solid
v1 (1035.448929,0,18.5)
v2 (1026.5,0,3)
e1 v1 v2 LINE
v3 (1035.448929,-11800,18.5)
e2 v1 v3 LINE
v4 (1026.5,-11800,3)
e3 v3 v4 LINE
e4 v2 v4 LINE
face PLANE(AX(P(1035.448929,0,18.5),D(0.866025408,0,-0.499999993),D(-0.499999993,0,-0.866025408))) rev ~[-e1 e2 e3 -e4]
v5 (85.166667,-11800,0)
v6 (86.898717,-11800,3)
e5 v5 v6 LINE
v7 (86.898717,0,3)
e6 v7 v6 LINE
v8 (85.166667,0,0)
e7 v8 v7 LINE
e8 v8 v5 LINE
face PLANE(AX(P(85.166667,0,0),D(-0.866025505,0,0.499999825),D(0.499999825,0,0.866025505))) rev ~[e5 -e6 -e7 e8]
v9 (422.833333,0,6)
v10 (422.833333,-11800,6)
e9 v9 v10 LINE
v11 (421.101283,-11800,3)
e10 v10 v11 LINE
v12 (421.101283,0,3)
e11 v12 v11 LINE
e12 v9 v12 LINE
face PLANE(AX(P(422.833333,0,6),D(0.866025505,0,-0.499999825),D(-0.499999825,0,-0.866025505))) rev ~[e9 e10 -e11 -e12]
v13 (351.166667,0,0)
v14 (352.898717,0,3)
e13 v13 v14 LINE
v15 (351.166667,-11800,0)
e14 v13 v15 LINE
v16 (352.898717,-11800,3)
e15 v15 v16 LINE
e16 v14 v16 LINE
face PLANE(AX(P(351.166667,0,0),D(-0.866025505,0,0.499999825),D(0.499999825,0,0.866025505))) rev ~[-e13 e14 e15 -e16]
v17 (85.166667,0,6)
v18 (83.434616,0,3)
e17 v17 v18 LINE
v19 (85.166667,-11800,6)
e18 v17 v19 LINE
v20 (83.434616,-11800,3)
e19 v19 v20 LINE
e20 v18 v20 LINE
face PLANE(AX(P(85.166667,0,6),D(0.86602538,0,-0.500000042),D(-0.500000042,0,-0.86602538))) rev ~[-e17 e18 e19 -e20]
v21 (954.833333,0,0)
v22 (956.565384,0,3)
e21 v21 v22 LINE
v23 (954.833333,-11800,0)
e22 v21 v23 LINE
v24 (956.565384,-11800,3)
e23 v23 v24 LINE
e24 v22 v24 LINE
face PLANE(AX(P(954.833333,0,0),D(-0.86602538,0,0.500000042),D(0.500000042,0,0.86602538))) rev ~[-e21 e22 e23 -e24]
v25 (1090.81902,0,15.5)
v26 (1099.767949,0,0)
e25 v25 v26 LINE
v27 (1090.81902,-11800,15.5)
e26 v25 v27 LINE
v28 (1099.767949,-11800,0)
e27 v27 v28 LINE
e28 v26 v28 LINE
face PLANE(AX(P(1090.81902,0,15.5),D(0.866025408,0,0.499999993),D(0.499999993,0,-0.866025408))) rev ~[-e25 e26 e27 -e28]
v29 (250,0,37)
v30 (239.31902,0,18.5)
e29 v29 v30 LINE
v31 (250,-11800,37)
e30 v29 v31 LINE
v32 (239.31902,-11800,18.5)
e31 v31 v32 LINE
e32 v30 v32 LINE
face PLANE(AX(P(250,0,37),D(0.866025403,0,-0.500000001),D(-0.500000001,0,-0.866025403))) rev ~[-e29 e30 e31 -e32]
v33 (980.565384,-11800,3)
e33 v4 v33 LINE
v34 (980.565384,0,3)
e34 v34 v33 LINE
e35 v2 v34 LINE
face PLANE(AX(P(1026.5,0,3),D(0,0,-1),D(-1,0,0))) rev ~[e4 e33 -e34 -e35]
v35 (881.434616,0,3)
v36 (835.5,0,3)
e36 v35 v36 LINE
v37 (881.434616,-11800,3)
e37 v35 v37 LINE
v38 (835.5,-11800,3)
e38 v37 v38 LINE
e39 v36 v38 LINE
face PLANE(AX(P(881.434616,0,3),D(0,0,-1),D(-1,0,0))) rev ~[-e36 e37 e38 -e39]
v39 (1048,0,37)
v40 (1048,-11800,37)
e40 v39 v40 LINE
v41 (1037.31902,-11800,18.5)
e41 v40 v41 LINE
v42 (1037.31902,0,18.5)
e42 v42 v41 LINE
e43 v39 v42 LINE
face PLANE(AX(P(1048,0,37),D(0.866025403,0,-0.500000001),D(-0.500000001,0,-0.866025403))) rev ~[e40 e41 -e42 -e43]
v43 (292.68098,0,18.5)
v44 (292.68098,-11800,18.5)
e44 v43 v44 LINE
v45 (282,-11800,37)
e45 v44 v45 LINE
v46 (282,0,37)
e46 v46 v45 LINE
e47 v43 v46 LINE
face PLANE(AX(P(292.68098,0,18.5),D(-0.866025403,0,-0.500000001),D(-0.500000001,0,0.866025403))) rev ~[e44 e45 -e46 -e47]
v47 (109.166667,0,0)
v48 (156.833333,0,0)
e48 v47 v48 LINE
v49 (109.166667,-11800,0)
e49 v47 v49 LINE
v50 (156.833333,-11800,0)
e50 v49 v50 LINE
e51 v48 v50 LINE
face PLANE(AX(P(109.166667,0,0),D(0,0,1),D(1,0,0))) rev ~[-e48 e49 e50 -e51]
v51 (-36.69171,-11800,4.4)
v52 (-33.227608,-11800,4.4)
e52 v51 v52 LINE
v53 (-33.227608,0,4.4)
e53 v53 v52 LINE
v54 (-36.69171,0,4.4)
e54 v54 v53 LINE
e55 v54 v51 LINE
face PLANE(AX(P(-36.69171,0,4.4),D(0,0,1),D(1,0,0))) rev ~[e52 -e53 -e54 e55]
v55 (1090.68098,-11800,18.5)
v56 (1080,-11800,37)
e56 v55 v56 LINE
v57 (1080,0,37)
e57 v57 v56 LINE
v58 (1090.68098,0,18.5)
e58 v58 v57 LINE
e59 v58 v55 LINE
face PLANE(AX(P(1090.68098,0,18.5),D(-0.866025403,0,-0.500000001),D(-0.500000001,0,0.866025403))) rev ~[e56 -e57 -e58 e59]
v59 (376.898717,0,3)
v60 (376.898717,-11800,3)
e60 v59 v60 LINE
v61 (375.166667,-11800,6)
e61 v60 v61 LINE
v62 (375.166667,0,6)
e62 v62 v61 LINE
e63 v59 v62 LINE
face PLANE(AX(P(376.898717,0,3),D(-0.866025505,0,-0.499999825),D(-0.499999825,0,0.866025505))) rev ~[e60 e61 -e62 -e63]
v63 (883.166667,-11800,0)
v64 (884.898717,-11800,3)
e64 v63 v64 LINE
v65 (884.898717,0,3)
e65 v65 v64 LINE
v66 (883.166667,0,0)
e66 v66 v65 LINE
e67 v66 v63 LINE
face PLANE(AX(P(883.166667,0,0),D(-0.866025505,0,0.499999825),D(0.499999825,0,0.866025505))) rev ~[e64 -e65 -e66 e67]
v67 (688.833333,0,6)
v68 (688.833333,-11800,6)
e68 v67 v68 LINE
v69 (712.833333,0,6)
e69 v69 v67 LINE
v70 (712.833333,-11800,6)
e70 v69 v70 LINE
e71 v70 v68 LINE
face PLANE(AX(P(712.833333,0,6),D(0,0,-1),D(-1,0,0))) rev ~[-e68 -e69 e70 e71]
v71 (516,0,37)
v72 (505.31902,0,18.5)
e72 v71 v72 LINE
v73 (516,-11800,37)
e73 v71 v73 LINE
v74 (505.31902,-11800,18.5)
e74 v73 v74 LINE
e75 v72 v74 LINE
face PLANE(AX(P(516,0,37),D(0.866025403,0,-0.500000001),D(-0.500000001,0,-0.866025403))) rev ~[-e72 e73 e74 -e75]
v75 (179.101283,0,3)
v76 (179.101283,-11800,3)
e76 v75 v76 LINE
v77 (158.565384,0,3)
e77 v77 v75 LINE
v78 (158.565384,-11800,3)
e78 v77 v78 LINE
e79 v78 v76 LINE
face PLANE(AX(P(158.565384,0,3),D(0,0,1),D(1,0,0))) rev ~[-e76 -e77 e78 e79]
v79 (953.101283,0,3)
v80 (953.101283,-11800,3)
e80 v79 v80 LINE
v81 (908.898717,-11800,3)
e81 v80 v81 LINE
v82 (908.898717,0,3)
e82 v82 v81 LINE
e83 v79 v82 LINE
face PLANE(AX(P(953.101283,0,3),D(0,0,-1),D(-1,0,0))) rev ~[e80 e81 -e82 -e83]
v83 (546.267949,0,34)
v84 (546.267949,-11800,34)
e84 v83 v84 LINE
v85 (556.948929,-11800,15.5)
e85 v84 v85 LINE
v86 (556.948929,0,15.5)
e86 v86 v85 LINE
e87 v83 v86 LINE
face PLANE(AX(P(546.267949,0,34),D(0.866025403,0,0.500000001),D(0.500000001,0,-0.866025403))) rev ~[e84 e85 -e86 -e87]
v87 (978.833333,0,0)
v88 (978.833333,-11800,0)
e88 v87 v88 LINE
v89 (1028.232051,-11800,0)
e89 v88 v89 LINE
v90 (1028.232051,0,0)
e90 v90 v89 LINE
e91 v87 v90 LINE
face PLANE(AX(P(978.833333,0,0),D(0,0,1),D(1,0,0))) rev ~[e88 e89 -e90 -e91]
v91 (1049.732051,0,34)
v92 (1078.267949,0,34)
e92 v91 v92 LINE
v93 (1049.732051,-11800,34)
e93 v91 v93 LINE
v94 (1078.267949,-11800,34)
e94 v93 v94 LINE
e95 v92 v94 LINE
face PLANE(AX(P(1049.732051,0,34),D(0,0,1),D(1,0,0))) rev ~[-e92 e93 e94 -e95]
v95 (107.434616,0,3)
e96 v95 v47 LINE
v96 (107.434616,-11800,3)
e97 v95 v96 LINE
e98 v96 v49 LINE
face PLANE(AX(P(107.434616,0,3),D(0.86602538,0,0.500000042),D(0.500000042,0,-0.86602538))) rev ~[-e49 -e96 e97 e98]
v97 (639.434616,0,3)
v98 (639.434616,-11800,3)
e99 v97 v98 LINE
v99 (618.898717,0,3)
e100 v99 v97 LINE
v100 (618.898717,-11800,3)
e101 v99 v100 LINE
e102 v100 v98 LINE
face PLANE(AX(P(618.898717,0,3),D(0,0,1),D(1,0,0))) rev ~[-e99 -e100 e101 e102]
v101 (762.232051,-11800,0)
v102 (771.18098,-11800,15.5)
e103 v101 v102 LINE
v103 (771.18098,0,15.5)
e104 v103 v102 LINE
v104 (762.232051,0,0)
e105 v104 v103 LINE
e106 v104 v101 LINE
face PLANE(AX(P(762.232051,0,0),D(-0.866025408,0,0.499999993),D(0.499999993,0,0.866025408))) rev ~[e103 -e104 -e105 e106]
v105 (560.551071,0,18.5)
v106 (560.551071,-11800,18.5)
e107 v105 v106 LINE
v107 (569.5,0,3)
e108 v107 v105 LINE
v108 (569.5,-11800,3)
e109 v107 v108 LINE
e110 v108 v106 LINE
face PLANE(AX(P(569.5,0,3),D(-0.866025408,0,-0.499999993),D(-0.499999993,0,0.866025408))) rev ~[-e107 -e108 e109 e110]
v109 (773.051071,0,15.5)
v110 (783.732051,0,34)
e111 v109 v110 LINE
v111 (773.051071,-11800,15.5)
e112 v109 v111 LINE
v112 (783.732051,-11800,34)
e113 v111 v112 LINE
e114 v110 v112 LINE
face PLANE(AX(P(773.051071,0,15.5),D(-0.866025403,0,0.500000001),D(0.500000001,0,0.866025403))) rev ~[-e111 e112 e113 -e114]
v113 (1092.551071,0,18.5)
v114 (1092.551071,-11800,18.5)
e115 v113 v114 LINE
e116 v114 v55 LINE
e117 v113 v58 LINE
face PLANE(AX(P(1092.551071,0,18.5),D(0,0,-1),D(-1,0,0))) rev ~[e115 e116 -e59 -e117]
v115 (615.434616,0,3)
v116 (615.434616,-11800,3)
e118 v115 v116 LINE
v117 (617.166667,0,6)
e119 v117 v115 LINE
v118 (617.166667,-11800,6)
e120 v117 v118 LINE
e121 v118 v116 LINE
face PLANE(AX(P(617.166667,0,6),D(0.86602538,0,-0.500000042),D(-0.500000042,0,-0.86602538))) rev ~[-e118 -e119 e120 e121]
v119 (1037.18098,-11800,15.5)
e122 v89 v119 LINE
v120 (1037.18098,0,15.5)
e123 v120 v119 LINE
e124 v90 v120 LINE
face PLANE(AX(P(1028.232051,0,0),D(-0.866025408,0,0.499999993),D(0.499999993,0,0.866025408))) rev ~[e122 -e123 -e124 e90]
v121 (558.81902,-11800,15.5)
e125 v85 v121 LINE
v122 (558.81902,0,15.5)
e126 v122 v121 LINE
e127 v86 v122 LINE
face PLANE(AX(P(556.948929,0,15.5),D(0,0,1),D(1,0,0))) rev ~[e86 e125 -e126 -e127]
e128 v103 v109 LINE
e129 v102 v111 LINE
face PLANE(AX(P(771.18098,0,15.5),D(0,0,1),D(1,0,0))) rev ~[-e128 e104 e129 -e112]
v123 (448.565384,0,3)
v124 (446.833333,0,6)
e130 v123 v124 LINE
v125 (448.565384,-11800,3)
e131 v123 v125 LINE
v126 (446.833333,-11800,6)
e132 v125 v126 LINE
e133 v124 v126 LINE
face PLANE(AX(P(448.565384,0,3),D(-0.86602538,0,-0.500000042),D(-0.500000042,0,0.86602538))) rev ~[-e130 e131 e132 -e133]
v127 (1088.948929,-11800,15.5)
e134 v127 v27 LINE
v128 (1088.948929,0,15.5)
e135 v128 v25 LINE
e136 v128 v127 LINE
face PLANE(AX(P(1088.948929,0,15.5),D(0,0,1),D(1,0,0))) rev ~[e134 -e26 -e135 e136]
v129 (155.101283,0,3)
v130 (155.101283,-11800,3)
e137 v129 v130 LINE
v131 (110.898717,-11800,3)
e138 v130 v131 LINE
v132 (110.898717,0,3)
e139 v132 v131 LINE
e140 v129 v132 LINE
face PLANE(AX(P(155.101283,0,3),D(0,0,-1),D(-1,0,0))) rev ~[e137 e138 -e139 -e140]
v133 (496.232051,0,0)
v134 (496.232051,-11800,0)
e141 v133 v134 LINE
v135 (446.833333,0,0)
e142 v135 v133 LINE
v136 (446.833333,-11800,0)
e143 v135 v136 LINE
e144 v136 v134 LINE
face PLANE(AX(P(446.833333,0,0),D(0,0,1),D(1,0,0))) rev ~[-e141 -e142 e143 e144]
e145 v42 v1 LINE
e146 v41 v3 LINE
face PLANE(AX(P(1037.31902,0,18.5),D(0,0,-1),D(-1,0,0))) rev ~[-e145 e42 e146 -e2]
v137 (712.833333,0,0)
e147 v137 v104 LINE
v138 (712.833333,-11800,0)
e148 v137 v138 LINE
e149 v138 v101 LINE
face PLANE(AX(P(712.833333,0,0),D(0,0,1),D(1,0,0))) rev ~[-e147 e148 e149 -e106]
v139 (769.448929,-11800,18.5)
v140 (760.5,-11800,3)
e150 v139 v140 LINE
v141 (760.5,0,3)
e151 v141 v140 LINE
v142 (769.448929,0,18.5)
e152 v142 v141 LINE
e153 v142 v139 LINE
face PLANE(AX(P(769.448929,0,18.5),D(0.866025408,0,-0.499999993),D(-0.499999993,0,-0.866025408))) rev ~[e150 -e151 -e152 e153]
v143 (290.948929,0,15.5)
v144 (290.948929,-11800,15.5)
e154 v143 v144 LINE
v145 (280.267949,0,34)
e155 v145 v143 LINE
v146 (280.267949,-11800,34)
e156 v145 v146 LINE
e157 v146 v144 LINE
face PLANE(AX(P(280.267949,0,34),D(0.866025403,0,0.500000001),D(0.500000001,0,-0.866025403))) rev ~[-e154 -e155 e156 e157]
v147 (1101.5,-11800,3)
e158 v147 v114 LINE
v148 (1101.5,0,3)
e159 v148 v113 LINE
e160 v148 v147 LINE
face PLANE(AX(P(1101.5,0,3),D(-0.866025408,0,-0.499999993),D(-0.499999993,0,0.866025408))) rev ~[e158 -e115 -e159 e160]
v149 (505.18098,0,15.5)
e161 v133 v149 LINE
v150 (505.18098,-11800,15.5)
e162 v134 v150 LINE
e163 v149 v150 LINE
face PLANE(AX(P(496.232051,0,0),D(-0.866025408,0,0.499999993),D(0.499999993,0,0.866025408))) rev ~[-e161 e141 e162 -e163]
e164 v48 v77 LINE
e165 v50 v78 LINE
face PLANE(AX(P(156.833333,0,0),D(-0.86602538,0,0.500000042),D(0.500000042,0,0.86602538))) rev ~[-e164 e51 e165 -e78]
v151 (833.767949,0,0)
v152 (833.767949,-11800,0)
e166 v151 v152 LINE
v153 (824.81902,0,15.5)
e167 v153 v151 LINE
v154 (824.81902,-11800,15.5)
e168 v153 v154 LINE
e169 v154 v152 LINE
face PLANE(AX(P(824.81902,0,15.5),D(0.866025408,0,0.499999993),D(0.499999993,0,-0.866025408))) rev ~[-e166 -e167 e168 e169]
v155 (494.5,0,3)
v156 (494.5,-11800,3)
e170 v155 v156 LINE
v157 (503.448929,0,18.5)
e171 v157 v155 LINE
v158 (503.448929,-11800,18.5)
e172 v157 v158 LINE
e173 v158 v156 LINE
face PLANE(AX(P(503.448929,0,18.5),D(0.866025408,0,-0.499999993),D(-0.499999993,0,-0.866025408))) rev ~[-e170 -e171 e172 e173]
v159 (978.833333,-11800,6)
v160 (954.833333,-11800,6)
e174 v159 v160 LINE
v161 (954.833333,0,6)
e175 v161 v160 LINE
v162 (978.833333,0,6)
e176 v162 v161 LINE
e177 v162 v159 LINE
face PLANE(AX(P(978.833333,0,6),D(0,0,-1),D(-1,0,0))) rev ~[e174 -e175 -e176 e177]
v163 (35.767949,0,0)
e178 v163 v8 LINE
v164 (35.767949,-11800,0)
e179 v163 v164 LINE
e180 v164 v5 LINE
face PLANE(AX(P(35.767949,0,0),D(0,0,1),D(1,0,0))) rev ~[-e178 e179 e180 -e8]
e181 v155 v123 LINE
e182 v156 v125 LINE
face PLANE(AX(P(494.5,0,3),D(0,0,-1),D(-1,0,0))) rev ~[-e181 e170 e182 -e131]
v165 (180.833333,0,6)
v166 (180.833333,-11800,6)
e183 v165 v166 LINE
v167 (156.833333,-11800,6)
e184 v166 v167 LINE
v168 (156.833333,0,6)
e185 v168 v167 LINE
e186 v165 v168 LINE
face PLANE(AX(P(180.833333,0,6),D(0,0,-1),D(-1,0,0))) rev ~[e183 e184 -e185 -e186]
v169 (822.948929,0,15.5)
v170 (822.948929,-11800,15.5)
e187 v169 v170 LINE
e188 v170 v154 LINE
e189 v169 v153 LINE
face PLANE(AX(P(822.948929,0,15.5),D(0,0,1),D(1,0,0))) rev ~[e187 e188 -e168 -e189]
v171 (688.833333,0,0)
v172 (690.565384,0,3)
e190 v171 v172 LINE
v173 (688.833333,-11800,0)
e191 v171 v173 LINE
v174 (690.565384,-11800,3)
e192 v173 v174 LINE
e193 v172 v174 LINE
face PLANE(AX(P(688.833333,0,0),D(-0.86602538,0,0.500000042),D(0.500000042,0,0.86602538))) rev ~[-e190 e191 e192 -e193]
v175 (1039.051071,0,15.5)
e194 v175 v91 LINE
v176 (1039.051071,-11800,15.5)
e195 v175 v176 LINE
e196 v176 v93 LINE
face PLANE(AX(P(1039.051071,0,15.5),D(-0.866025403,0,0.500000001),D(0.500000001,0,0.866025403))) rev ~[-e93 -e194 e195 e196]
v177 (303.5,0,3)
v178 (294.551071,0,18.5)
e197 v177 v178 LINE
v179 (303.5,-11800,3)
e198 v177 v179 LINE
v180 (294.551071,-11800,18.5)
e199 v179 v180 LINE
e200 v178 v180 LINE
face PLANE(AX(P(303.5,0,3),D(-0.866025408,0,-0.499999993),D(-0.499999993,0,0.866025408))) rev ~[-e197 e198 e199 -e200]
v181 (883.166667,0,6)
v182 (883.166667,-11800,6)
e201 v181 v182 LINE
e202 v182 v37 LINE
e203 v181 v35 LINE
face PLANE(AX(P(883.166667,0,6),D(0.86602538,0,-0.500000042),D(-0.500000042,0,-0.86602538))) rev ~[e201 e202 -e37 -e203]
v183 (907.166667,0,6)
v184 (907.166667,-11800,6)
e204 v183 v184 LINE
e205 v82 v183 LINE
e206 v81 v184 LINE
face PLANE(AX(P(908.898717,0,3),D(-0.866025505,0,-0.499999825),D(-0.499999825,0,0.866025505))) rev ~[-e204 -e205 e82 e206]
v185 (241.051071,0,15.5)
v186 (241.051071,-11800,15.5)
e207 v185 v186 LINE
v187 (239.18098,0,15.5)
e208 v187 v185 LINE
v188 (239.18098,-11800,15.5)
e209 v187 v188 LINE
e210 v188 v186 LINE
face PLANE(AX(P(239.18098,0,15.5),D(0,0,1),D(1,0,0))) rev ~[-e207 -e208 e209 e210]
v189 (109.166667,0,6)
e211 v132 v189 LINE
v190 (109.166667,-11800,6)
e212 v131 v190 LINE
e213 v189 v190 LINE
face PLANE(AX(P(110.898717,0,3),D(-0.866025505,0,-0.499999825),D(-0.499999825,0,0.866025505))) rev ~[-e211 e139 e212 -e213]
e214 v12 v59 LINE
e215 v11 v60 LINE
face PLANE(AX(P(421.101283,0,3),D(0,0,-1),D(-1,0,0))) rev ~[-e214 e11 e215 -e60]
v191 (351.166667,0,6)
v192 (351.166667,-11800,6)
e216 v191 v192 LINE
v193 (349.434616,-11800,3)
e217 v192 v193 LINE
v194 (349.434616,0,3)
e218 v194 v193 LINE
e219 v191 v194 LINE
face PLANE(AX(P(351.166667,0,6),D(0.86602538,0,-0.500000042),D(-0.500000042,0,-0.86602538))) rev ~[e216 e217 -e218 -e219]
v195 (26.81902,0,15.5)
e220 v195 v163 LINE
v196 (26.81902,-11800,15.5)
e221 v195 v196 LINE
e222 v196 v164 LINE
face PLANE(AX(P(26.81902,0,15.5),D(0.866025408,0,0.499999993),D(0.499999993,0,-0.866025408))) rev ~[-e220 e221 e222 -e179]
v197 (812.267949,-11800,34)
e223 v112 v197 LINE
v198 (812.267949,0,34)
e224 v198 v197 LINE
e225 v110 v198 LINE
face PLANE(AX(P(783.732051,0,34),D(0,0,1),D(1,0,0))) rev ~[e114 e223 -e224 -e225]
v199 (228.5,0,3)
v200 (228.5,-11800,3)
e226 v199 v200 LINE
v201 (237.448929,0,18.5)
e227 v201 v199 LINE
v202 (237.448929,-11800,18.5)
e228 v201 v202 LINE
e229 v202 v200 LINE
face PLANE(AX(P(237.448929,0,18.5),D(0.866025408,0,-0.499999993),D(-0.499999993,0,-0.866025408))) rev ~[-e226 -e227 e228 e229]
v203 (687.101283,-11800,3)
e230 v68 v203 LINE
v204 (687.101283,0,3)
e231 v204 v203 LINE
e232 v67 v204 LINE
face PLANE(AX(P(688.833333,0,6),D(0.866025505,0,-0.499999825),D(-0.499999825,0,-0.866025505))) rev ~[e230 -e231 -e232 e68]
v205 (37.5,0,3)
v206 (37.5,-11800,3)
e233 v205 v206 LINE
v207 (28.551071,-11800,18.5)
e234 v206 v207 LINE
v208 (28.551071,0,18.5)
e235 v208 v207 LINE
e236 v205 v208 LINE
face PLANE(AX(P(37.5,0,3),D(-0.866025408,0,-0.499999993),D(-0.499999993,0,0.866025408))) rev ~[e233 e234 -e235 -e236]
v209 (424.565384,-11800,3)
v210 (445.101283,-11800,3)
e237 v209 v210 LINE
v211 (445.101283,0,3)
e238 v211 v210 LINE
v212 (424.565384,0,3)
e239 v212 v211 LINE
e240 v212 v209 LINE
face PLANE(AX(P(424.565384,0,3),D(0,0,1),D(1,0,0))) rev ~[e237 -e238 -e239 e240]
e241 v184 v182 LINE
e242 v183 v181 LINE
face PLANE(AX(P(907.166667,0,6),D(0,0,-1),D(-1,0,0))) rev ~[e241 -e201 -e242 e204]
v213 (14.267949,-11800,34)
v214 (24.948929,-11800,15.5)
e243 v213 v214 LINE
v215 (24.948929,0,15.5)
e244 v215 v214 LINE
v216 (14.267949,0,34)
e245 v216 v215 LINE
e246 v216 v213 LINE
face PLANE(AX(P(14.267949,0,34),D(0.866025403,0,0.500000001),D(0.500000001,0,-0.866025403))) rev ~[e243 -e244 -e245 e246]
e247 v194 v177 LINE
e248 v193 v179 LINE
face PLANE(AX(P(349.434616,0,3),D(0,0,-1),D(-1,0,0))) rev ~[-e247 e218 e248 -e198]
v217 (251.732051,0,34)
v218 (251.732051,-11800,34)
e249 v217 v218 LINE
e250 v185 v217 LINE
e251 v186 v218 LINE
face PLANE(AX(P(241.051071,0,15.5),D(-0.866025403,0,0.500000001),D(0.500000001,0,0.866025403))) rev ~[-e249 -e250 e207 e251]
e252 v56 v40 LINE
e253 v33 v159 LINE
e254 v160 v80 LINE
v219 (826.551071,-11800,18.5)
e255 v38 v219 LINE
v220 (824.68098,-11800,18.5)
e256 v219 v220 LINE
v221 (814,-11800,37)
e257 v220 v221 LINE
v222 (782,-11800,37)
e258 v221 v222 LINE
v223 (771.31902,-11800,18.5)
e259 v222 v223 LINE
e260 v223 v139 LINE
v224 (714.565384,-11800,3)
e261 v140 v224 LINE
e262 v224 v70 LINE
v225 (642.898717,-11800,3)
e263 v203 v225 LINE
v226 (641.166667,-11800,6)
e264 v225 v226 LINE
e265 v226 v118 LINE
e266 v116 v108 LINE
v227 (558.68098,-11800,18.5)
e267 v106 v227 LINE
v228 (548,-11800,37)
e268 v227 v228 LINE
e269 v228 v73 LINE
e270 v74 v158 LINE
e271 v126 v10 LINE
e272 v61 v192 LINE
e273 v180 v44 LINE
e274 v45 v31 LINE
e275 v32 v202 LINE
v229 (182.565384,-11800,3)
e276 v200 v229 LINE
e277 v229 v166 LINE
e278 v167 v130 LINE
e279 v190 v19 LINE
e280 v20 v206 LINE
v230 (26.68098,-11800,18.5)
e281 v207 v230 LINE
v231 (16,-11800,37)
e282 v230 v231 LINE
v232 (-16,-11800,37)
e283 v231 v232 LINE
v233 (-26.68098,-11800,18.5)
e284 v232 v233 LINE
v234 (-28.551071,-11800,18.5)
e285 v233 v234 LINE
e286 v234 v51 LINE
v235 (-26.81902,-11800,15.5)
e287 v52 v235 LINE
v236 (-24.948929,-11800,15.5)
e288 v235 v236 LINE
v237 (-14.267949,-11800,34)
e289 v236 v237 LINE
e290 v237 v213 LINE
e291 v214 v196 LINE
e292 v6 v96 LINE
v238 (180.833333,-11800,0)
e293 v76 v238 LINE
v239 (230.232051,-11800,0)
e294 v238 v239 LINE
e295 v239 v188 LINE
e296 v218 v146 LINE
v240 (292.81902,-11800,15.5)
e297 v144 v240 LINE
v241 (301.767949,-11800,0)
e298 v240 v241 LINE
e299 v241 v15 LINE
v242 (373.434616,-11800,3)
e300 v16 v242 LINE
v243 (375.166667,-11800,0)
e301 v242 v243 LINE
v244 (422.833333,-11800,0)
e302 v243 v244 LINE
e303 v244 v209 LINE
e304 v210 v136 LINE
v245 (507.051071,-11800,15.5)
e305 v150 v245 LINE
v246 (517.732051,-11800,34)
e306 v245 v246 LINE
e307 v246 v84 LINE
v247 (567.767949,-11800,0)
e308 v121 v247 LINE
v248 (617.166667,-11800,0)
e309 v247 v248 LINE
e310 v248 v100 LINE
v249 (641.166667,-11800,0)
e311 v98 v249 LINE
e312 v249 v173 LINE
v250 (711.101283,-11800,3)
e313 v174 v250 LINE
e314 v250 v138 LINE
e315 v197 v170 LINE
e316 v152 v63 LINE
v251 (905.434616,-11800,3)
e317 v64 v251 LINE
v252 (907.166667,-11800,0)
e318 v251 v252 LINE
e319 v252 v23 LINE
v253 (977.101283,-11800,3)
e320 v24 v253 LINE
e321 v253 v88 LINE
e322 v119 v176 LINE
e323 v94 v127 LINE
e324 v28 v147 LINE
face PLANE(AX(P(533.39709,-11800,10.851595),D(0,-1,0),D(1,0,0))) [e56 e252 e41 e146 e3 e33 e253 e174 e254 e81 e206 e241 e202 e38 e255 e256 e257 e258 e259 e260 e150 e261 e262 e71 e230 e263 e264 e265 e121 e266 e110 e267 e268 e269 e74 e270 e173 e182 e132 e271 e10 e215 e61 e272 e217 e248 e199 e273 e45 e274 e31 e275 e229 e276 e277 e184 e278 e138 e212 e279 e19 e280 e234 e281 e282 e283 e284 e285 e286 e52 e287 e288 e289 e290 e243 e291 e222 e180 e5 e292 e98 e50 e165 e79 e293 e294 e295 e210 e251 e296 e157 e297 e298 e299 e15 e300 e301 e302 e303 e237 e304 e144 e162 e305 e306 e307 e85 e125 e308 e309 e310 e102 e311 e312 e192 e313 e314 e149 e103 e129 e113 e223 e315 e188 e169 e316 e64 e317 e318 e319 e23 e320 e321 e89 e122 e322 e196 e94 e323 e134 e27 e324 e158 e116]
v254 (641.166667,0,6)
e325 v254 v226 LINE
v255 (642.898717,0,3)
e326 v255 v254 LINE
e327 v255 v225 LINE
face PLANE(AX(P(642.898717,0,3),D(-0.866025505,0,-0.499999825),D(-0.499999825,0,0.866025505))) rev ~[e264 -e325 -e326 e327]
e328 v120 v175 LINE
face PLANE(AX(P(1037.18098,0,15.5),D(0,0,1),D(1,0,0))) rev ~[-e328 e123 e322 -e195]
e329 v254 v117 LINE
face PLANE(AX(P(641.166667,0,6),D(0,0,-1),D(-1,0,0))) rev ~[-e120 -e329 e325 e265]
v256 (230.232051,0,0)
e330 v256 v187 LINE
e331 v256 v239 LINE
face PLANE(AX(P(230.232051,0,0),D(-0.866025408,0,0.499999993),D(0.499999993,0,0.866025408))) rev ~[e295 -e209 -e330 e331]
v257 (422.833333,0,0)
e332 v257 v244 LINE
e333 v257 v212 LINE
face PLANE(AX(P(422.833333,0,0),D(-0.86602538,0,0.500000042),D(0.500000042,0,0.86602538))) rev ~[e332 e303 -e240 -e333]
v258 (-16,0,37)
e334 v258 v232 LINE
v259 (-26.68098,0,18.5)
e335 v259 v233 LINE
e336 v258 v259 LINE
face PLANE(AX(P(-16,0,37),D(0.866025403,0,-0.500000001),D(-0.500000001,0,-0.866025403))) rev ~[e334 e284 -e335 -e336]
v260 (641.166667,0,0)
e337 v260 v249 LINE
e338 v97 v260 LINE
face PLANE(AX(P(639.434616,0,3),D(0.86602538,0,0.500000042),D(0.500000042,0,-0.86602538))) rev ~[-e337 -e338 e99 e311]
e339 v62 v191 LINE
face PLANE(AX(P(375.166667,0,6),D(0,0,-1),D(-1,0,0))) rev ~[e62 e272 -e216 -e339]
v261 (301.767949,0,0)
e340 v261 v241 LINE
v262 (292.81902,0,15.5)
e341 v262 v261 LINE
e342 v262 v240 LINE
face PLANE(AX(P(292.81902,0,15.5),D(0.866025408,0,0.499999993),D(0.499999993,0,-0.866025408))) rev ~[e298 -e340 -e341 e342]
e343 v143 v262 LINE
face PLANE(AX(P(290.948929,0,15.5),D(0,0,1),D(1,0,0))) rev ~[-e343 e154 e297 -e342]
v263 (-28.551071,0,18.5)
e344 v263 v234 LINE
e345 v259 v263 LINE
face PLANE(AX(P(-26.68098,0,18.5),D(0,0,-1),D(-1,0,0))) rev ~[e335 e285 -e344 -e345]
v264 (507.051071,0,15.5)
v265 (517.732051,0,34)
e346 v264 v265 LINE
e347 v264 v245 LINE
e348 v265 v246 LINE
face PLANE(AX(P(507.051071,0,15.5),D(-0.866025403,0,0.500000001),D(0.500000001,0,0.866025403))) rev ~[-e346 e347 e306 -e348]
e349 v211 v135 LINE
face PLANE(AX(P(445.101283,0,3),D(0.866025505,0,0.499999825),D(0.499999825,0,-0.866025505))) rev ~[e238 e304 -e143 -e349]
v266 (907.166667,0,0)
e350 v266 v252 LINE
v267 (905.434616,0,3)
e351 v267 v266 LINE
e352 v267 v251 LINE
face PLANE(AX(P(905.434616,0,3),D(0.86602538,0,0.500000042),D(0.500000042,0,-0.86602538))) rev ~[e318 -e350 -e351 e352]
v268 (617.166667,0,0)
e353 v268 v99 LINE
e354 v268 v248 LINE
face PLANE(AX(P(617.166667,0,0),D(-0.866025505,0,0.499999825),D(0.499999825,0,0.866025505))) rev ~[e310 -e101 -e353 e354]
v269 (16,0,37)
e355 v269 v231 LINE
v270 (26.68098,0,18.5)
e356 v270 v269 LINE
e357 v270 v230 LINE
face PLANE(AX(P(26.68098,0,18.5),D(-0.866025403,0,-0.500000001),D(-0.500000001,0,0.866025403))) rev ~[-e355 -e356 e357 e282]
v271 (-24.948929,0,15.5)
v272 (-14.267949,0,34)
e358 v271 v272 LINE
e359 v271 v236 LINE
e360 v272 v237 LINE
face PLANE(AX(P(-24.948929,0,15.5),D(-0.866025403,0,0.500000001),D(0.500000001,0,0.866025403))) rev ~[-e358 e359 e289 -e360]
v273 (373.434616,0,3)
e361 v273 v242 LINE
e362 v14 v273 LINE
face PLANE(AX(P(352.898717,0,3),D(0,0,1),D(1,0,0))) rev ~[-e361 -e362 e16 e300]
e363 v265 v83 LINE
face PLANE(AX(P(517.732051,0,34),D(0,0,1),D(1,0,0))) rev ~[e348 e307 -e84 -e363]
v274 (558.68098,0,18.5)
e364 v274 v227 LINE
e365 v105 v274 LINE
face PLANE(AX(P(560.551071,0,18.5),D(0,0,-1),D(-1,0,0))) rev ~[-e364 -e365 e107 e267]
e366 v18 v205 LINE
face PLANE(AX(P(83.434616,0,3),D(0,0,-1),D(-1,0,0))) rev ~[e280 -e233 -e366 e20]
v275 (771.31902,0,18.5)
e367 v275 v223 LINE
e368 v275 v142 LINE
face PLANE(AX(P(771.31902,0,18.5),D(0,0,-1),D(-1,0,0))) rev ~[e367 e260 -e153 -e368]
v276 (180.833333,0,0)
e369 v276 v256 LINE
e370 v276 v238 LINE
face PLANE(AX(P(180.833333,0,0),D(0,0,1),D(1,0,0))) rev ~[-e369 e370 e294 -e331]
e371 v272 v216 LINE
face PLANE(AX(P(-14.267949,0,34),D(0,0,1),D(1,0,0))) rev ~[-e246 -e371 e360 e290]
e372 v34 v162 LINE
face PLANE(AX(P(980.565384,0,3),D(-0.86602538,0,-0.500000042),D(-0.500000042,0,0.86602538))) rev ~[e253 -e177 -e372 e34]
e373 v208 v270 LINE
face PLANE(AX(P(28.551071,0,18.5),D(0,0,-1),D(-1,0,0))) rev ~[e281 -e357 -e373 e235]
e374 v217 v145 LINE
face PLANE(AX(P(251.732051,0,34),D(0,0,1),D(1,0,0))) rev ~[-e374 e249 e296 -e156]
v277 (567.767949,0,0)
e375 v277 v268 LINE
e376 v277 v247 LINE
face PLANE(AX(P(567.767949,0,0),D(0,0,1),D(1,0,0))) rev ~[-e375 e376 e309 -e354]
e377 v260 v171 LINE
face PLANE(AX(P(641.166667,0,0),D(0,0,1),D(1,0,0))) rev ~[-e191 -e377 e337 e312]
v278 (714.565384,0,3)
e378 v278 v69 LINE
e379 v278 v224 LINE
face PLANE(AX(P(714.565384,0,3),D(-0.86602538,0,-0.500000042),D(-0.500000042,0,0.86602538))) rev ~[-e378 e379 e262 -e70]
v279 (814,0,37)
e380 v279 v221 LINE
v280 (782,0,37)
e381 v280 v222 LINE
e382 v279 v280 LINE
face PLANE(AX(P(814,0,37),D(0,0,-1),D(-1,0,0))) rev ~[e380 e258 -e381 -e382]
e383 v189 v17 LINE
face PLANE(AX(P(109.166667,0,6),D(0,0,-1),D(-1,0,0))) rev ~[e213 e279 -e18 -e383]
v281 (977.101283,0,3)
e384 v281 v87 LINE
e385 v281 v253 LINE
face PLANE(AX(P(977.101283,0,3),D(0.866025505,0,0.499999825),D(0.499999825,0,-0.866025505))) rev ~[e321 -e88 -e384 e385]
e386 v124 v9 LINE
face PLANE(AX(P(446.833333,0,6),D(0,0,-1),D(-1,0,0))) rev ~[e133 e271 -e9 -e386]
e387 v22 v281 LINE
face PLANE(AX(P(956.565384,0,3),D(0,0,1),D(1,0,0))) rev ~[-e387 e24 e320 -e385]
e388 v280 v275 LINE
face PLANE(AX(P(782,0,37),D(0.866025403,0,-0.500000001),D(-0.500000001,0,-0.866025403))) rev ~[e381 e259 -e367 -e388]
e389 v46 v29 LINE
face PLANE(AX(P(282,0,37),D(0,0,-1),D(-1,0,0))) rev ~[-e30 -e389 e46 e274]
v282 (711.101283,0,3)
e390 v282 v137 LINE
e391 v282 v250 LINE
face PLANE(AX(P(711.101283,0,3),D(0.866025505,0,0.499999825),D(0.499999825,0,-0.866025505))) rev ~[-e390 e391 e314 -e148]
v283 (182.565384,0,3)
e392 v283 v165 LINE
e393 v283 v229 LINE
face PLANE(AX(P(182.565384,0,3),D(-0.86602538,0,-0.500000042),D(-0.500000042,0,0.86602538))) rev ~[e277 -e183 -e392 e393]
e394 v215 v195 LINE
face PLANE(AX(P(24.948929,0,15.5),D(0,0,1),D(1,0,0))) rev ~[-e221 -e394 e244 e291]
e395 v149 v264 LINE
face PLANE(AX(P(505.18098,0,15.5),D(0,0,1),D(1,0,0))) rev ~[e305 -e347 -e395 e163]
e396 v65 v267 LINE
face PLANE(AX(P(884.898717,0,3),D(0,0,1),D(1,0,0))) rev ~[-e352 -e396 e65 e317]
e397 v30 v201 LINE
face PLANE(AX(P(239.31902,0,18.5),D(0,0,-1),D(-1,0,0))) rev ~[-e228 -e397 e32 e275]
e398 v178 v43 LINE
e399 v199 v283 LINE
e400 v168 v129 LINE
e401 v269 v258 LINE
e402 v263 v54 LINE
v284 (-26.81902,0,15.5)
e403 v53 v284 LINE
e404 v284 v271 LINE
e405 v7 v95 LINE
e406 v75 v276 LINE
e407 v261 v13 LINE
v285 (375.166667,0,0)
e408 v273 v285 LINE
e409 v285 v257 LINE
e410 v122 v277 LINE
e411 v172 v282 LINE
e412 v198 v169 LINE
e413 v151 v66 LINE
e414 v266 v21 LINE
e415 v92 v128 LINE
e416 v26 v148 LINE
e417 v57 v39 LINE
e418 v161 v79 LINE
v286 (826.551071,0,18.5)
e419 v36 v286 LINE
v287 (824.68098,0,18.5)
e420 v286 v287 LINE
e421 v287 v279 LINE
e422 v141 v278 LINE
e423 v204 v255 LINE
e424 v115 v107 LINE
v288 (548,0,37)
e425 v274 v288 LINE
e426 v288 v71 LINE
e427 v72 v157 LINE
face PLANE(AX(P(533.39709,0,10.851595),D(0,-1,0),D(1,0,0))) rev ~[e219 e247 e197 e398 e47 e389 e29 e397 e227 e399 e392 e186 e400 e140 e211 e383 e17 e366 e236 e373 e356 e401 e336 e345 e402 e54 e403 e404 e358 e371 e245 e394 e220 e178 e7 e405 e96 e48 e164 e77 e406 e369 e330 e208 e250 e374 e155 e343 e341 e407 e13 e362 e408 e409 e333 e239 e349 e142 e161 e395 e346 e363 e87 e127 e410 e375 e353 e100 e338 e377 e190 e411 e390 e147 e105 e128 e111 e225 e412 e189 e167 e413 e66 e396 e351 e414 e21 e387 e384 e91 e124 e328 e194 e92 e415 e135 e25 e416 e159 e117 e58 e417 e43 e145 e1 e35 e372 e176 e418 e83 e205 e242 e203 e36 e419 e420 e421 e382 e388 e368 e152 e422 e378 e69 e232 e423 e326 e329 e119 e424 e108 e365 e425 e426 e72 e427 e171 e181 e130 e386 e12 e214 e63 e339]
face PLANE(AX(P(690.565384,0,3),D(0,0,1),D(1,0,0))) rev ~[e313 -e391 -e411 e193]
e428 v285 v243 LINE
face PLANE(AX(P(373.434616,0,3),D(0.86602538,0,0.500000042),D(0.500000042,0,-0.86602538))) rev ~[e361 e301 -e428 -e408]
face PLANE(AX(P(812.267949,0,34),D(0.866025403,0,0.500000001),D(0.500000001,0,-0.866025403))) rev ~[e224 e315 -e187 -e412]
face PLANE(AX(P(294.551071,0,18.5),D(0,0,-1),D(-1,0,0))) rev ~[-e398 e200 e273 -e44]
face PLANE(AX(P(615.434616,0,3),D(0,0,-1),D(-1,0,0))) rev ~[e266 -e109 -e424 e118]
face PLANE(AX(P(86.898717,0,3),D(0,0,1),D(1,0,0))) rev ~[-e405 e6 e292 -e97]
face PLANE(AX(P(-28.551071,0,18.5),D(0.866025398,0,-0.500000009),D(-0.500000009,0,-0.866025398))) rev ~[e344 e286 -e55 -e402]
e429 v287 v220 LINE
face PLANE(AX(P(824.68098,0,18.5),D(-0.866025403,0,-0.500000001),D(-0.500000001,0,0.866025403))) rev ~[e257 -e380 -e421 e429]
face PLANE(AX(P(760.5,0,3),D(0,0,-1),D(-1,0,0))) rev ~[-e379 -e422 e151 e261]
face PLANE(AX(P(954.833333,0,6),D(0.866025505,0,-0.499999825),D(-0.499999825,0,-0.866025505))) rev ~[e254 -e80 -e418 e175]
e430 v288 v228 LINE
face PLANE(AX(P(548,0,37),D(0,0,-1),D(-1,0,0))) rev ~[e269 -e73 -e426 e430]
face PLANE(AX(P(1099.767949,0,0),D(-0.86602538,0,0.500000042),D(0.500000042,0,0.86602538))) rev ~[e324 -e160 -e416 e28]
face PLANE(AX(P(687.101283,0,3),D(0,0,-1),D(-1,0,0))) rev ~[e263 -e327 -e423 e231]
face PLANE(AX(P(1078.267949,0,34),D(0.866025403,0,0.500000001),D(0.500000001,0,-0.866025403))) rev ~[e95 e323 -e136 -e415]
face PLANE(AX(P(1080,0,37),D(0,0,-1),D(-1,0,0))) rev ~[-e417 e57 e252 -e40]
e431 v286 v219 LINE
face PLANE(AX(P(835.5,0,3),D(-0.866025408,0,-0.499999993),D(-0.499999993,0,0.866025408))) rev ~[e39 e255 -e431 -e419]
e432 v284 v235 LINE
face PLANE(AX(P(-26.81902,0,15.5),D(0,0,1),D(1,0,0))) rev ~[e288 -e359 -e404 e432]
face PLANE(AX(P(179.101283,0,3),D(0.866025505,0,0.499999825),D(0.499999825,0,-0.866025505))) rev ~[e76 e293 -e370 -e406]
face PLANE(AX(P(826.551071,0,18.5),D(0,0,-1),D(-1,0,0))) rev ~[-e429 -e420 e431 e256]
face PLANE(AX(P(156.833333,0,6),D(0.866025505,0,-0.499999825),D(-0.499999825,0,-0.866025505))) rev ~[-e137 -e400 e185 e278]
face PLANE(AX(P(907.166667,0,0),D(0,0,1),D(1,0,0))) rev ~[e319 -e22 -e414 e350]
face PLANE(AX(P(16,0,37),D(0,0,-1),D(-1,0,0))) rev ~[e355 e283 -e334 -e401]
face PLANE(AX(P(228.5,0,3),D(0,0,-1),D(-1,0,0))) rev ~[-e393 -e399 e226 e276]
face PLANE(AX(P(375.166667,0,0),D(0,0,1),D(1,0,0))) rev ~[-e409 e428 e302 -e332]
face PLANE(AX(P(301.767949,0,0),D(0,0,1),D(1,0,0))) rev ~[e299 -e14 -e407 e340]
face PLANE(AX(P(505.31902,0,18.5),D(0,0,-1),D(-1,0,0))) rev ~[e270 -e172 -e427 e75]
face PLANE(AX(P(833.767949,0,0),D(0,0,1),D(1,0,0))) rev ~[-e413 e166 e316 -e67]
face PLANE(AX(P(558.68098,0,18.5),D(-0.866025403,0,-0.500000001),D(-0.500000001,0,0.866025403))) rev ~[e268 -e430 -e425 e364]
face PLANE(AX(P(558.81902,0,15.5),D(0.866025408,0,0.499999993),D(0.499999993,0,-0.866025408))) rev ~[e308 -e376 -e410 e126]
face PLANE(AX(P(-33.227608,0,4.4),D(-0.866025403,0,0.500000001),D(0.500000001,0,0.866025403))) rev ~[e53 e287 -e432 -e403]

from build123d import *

# Parameters (mm, degrees)
F2_DEPTH = 11800


with BuildPart() as f2:
    # F1 (on Front) → F2 (new body)
    with BuildSketch(Plane.XZ):
        Polygon((-36.69171, 4.4), (-33.227608, 4.4), (-26.81902, 15.5), (-24.948929, 15.5), (-14.267949, 34), (14.267949, 34), (24.948929, 15.5), (26.81902, 15.5), (35.767949, 0), (85.166667, 0), (86.898717, 3), (107.434616, 3), (109.166667, 0), (156.833333, 0), (158.565384, 3), (179.101283, 3), (180.833333, 0), (230.232051, 0), (239.18098, 15.5), (241.051071, 15.5), (251.732051, 34), (280.267949, 34), (290.948929, 15.5), (292.81902, 15.5), (301.767949, 0), (351.166667, 0), (352.898717, 3), (373.434616, 3), (375.166667, 0), (422.833333, 0), (424.565384, 3), (445.101283, 3), (446.833333, 0), (496.232051, 0), (505.18098, 15.5), (507.051071, 15.5), (517.732051, 34), (546.267949, 34), (556.948929, 15.5), (558.81902, 15.5), (567.767949, 0), (617.166667, 0), (618.898717, 3), (639.434616, 3), (641.166667, 0), (688.833333, 0), (690.565384, 3), (711.101283, 3), (712.833333, 0), (762.232051, 0), (771.18098, 15.5), (773.051071, 15.5), (783.732051, 34), (812.267949, 34), (822.948929, 15.5), (824.81902, 15.5), (833.767949, 0), (883.166667, 0), (884.898717, 3), (905.434616, 3), (907.166667, 0), (954.833333, 0), (956.565384, 3), (977.101283, 3), (978.833333, 0), (1028.232051, 0), (1037.18098, 15.5), (1039.051071, 15.5), (1049.732051, 34), (1078.267949, 34), (1088.948929, 15.5), (1090.81902, 15.5), (1099.767949, 0), (1101.5, 3), (1092.551071, 18.5), (1090.68098, 18.5), (1080, 37), (1048, 37), (1037.31902, 18.5), (1035.448929, 18.5), (1026.5, 3), (980.565384, 3), (978.833333, 6), (954.833333, 6), (953.101283, 3), (908.898717, 3), (907.166667, 6), (883.166667, 6), (881.434616, 3), (835.5, 3), (826.551071, 18.5), (824.68098, 18.5), (814, 37), (782, 37), (771.31902, 18.5), (769.448929, 18.5), (760.5, 3), (714.565384, 3), (712.833333, 6), (688.833333, 6), (687.101283, 3), (642.898717, 3), (641.166667, 6), (617.166667, 6), (615.434616, 3), (569.5, 3), (560.551071, 18.5), (558.68098, 18.5), (548, 37), (516, 37), (505.31902, 18.5), (503.448929, 18.5), (494.5, 3), (448.565384, 3), (446.833333, 6), (422.833333, 6), (421.101283, 3), (376.898717, 3), (375.166667, 6), (351.166667, 6), (349.434616, 3), (303.5, 3), (294.551071, 18.5), (292.68098, 18.5), (282, 37), (250, 37), (239.31902, 18.5), (237.448929, 18.5), (228.5, 3), (182.565384, 3), (180.833333, 6), (156.833333, 6), (155.101283, 3), (110.898717, 3), (109.166667, 6), (85.166667, 6), (83.434616, 3), (37.5, 3), (28.551071, 18.5), (26.68098, 18.5), (16, 37), (-16, 37), (-26.68098, 18.5), (-28.551071, 18.5), align=None)
    extrude(amount=F2_DEPTH)


solid = f2.part
